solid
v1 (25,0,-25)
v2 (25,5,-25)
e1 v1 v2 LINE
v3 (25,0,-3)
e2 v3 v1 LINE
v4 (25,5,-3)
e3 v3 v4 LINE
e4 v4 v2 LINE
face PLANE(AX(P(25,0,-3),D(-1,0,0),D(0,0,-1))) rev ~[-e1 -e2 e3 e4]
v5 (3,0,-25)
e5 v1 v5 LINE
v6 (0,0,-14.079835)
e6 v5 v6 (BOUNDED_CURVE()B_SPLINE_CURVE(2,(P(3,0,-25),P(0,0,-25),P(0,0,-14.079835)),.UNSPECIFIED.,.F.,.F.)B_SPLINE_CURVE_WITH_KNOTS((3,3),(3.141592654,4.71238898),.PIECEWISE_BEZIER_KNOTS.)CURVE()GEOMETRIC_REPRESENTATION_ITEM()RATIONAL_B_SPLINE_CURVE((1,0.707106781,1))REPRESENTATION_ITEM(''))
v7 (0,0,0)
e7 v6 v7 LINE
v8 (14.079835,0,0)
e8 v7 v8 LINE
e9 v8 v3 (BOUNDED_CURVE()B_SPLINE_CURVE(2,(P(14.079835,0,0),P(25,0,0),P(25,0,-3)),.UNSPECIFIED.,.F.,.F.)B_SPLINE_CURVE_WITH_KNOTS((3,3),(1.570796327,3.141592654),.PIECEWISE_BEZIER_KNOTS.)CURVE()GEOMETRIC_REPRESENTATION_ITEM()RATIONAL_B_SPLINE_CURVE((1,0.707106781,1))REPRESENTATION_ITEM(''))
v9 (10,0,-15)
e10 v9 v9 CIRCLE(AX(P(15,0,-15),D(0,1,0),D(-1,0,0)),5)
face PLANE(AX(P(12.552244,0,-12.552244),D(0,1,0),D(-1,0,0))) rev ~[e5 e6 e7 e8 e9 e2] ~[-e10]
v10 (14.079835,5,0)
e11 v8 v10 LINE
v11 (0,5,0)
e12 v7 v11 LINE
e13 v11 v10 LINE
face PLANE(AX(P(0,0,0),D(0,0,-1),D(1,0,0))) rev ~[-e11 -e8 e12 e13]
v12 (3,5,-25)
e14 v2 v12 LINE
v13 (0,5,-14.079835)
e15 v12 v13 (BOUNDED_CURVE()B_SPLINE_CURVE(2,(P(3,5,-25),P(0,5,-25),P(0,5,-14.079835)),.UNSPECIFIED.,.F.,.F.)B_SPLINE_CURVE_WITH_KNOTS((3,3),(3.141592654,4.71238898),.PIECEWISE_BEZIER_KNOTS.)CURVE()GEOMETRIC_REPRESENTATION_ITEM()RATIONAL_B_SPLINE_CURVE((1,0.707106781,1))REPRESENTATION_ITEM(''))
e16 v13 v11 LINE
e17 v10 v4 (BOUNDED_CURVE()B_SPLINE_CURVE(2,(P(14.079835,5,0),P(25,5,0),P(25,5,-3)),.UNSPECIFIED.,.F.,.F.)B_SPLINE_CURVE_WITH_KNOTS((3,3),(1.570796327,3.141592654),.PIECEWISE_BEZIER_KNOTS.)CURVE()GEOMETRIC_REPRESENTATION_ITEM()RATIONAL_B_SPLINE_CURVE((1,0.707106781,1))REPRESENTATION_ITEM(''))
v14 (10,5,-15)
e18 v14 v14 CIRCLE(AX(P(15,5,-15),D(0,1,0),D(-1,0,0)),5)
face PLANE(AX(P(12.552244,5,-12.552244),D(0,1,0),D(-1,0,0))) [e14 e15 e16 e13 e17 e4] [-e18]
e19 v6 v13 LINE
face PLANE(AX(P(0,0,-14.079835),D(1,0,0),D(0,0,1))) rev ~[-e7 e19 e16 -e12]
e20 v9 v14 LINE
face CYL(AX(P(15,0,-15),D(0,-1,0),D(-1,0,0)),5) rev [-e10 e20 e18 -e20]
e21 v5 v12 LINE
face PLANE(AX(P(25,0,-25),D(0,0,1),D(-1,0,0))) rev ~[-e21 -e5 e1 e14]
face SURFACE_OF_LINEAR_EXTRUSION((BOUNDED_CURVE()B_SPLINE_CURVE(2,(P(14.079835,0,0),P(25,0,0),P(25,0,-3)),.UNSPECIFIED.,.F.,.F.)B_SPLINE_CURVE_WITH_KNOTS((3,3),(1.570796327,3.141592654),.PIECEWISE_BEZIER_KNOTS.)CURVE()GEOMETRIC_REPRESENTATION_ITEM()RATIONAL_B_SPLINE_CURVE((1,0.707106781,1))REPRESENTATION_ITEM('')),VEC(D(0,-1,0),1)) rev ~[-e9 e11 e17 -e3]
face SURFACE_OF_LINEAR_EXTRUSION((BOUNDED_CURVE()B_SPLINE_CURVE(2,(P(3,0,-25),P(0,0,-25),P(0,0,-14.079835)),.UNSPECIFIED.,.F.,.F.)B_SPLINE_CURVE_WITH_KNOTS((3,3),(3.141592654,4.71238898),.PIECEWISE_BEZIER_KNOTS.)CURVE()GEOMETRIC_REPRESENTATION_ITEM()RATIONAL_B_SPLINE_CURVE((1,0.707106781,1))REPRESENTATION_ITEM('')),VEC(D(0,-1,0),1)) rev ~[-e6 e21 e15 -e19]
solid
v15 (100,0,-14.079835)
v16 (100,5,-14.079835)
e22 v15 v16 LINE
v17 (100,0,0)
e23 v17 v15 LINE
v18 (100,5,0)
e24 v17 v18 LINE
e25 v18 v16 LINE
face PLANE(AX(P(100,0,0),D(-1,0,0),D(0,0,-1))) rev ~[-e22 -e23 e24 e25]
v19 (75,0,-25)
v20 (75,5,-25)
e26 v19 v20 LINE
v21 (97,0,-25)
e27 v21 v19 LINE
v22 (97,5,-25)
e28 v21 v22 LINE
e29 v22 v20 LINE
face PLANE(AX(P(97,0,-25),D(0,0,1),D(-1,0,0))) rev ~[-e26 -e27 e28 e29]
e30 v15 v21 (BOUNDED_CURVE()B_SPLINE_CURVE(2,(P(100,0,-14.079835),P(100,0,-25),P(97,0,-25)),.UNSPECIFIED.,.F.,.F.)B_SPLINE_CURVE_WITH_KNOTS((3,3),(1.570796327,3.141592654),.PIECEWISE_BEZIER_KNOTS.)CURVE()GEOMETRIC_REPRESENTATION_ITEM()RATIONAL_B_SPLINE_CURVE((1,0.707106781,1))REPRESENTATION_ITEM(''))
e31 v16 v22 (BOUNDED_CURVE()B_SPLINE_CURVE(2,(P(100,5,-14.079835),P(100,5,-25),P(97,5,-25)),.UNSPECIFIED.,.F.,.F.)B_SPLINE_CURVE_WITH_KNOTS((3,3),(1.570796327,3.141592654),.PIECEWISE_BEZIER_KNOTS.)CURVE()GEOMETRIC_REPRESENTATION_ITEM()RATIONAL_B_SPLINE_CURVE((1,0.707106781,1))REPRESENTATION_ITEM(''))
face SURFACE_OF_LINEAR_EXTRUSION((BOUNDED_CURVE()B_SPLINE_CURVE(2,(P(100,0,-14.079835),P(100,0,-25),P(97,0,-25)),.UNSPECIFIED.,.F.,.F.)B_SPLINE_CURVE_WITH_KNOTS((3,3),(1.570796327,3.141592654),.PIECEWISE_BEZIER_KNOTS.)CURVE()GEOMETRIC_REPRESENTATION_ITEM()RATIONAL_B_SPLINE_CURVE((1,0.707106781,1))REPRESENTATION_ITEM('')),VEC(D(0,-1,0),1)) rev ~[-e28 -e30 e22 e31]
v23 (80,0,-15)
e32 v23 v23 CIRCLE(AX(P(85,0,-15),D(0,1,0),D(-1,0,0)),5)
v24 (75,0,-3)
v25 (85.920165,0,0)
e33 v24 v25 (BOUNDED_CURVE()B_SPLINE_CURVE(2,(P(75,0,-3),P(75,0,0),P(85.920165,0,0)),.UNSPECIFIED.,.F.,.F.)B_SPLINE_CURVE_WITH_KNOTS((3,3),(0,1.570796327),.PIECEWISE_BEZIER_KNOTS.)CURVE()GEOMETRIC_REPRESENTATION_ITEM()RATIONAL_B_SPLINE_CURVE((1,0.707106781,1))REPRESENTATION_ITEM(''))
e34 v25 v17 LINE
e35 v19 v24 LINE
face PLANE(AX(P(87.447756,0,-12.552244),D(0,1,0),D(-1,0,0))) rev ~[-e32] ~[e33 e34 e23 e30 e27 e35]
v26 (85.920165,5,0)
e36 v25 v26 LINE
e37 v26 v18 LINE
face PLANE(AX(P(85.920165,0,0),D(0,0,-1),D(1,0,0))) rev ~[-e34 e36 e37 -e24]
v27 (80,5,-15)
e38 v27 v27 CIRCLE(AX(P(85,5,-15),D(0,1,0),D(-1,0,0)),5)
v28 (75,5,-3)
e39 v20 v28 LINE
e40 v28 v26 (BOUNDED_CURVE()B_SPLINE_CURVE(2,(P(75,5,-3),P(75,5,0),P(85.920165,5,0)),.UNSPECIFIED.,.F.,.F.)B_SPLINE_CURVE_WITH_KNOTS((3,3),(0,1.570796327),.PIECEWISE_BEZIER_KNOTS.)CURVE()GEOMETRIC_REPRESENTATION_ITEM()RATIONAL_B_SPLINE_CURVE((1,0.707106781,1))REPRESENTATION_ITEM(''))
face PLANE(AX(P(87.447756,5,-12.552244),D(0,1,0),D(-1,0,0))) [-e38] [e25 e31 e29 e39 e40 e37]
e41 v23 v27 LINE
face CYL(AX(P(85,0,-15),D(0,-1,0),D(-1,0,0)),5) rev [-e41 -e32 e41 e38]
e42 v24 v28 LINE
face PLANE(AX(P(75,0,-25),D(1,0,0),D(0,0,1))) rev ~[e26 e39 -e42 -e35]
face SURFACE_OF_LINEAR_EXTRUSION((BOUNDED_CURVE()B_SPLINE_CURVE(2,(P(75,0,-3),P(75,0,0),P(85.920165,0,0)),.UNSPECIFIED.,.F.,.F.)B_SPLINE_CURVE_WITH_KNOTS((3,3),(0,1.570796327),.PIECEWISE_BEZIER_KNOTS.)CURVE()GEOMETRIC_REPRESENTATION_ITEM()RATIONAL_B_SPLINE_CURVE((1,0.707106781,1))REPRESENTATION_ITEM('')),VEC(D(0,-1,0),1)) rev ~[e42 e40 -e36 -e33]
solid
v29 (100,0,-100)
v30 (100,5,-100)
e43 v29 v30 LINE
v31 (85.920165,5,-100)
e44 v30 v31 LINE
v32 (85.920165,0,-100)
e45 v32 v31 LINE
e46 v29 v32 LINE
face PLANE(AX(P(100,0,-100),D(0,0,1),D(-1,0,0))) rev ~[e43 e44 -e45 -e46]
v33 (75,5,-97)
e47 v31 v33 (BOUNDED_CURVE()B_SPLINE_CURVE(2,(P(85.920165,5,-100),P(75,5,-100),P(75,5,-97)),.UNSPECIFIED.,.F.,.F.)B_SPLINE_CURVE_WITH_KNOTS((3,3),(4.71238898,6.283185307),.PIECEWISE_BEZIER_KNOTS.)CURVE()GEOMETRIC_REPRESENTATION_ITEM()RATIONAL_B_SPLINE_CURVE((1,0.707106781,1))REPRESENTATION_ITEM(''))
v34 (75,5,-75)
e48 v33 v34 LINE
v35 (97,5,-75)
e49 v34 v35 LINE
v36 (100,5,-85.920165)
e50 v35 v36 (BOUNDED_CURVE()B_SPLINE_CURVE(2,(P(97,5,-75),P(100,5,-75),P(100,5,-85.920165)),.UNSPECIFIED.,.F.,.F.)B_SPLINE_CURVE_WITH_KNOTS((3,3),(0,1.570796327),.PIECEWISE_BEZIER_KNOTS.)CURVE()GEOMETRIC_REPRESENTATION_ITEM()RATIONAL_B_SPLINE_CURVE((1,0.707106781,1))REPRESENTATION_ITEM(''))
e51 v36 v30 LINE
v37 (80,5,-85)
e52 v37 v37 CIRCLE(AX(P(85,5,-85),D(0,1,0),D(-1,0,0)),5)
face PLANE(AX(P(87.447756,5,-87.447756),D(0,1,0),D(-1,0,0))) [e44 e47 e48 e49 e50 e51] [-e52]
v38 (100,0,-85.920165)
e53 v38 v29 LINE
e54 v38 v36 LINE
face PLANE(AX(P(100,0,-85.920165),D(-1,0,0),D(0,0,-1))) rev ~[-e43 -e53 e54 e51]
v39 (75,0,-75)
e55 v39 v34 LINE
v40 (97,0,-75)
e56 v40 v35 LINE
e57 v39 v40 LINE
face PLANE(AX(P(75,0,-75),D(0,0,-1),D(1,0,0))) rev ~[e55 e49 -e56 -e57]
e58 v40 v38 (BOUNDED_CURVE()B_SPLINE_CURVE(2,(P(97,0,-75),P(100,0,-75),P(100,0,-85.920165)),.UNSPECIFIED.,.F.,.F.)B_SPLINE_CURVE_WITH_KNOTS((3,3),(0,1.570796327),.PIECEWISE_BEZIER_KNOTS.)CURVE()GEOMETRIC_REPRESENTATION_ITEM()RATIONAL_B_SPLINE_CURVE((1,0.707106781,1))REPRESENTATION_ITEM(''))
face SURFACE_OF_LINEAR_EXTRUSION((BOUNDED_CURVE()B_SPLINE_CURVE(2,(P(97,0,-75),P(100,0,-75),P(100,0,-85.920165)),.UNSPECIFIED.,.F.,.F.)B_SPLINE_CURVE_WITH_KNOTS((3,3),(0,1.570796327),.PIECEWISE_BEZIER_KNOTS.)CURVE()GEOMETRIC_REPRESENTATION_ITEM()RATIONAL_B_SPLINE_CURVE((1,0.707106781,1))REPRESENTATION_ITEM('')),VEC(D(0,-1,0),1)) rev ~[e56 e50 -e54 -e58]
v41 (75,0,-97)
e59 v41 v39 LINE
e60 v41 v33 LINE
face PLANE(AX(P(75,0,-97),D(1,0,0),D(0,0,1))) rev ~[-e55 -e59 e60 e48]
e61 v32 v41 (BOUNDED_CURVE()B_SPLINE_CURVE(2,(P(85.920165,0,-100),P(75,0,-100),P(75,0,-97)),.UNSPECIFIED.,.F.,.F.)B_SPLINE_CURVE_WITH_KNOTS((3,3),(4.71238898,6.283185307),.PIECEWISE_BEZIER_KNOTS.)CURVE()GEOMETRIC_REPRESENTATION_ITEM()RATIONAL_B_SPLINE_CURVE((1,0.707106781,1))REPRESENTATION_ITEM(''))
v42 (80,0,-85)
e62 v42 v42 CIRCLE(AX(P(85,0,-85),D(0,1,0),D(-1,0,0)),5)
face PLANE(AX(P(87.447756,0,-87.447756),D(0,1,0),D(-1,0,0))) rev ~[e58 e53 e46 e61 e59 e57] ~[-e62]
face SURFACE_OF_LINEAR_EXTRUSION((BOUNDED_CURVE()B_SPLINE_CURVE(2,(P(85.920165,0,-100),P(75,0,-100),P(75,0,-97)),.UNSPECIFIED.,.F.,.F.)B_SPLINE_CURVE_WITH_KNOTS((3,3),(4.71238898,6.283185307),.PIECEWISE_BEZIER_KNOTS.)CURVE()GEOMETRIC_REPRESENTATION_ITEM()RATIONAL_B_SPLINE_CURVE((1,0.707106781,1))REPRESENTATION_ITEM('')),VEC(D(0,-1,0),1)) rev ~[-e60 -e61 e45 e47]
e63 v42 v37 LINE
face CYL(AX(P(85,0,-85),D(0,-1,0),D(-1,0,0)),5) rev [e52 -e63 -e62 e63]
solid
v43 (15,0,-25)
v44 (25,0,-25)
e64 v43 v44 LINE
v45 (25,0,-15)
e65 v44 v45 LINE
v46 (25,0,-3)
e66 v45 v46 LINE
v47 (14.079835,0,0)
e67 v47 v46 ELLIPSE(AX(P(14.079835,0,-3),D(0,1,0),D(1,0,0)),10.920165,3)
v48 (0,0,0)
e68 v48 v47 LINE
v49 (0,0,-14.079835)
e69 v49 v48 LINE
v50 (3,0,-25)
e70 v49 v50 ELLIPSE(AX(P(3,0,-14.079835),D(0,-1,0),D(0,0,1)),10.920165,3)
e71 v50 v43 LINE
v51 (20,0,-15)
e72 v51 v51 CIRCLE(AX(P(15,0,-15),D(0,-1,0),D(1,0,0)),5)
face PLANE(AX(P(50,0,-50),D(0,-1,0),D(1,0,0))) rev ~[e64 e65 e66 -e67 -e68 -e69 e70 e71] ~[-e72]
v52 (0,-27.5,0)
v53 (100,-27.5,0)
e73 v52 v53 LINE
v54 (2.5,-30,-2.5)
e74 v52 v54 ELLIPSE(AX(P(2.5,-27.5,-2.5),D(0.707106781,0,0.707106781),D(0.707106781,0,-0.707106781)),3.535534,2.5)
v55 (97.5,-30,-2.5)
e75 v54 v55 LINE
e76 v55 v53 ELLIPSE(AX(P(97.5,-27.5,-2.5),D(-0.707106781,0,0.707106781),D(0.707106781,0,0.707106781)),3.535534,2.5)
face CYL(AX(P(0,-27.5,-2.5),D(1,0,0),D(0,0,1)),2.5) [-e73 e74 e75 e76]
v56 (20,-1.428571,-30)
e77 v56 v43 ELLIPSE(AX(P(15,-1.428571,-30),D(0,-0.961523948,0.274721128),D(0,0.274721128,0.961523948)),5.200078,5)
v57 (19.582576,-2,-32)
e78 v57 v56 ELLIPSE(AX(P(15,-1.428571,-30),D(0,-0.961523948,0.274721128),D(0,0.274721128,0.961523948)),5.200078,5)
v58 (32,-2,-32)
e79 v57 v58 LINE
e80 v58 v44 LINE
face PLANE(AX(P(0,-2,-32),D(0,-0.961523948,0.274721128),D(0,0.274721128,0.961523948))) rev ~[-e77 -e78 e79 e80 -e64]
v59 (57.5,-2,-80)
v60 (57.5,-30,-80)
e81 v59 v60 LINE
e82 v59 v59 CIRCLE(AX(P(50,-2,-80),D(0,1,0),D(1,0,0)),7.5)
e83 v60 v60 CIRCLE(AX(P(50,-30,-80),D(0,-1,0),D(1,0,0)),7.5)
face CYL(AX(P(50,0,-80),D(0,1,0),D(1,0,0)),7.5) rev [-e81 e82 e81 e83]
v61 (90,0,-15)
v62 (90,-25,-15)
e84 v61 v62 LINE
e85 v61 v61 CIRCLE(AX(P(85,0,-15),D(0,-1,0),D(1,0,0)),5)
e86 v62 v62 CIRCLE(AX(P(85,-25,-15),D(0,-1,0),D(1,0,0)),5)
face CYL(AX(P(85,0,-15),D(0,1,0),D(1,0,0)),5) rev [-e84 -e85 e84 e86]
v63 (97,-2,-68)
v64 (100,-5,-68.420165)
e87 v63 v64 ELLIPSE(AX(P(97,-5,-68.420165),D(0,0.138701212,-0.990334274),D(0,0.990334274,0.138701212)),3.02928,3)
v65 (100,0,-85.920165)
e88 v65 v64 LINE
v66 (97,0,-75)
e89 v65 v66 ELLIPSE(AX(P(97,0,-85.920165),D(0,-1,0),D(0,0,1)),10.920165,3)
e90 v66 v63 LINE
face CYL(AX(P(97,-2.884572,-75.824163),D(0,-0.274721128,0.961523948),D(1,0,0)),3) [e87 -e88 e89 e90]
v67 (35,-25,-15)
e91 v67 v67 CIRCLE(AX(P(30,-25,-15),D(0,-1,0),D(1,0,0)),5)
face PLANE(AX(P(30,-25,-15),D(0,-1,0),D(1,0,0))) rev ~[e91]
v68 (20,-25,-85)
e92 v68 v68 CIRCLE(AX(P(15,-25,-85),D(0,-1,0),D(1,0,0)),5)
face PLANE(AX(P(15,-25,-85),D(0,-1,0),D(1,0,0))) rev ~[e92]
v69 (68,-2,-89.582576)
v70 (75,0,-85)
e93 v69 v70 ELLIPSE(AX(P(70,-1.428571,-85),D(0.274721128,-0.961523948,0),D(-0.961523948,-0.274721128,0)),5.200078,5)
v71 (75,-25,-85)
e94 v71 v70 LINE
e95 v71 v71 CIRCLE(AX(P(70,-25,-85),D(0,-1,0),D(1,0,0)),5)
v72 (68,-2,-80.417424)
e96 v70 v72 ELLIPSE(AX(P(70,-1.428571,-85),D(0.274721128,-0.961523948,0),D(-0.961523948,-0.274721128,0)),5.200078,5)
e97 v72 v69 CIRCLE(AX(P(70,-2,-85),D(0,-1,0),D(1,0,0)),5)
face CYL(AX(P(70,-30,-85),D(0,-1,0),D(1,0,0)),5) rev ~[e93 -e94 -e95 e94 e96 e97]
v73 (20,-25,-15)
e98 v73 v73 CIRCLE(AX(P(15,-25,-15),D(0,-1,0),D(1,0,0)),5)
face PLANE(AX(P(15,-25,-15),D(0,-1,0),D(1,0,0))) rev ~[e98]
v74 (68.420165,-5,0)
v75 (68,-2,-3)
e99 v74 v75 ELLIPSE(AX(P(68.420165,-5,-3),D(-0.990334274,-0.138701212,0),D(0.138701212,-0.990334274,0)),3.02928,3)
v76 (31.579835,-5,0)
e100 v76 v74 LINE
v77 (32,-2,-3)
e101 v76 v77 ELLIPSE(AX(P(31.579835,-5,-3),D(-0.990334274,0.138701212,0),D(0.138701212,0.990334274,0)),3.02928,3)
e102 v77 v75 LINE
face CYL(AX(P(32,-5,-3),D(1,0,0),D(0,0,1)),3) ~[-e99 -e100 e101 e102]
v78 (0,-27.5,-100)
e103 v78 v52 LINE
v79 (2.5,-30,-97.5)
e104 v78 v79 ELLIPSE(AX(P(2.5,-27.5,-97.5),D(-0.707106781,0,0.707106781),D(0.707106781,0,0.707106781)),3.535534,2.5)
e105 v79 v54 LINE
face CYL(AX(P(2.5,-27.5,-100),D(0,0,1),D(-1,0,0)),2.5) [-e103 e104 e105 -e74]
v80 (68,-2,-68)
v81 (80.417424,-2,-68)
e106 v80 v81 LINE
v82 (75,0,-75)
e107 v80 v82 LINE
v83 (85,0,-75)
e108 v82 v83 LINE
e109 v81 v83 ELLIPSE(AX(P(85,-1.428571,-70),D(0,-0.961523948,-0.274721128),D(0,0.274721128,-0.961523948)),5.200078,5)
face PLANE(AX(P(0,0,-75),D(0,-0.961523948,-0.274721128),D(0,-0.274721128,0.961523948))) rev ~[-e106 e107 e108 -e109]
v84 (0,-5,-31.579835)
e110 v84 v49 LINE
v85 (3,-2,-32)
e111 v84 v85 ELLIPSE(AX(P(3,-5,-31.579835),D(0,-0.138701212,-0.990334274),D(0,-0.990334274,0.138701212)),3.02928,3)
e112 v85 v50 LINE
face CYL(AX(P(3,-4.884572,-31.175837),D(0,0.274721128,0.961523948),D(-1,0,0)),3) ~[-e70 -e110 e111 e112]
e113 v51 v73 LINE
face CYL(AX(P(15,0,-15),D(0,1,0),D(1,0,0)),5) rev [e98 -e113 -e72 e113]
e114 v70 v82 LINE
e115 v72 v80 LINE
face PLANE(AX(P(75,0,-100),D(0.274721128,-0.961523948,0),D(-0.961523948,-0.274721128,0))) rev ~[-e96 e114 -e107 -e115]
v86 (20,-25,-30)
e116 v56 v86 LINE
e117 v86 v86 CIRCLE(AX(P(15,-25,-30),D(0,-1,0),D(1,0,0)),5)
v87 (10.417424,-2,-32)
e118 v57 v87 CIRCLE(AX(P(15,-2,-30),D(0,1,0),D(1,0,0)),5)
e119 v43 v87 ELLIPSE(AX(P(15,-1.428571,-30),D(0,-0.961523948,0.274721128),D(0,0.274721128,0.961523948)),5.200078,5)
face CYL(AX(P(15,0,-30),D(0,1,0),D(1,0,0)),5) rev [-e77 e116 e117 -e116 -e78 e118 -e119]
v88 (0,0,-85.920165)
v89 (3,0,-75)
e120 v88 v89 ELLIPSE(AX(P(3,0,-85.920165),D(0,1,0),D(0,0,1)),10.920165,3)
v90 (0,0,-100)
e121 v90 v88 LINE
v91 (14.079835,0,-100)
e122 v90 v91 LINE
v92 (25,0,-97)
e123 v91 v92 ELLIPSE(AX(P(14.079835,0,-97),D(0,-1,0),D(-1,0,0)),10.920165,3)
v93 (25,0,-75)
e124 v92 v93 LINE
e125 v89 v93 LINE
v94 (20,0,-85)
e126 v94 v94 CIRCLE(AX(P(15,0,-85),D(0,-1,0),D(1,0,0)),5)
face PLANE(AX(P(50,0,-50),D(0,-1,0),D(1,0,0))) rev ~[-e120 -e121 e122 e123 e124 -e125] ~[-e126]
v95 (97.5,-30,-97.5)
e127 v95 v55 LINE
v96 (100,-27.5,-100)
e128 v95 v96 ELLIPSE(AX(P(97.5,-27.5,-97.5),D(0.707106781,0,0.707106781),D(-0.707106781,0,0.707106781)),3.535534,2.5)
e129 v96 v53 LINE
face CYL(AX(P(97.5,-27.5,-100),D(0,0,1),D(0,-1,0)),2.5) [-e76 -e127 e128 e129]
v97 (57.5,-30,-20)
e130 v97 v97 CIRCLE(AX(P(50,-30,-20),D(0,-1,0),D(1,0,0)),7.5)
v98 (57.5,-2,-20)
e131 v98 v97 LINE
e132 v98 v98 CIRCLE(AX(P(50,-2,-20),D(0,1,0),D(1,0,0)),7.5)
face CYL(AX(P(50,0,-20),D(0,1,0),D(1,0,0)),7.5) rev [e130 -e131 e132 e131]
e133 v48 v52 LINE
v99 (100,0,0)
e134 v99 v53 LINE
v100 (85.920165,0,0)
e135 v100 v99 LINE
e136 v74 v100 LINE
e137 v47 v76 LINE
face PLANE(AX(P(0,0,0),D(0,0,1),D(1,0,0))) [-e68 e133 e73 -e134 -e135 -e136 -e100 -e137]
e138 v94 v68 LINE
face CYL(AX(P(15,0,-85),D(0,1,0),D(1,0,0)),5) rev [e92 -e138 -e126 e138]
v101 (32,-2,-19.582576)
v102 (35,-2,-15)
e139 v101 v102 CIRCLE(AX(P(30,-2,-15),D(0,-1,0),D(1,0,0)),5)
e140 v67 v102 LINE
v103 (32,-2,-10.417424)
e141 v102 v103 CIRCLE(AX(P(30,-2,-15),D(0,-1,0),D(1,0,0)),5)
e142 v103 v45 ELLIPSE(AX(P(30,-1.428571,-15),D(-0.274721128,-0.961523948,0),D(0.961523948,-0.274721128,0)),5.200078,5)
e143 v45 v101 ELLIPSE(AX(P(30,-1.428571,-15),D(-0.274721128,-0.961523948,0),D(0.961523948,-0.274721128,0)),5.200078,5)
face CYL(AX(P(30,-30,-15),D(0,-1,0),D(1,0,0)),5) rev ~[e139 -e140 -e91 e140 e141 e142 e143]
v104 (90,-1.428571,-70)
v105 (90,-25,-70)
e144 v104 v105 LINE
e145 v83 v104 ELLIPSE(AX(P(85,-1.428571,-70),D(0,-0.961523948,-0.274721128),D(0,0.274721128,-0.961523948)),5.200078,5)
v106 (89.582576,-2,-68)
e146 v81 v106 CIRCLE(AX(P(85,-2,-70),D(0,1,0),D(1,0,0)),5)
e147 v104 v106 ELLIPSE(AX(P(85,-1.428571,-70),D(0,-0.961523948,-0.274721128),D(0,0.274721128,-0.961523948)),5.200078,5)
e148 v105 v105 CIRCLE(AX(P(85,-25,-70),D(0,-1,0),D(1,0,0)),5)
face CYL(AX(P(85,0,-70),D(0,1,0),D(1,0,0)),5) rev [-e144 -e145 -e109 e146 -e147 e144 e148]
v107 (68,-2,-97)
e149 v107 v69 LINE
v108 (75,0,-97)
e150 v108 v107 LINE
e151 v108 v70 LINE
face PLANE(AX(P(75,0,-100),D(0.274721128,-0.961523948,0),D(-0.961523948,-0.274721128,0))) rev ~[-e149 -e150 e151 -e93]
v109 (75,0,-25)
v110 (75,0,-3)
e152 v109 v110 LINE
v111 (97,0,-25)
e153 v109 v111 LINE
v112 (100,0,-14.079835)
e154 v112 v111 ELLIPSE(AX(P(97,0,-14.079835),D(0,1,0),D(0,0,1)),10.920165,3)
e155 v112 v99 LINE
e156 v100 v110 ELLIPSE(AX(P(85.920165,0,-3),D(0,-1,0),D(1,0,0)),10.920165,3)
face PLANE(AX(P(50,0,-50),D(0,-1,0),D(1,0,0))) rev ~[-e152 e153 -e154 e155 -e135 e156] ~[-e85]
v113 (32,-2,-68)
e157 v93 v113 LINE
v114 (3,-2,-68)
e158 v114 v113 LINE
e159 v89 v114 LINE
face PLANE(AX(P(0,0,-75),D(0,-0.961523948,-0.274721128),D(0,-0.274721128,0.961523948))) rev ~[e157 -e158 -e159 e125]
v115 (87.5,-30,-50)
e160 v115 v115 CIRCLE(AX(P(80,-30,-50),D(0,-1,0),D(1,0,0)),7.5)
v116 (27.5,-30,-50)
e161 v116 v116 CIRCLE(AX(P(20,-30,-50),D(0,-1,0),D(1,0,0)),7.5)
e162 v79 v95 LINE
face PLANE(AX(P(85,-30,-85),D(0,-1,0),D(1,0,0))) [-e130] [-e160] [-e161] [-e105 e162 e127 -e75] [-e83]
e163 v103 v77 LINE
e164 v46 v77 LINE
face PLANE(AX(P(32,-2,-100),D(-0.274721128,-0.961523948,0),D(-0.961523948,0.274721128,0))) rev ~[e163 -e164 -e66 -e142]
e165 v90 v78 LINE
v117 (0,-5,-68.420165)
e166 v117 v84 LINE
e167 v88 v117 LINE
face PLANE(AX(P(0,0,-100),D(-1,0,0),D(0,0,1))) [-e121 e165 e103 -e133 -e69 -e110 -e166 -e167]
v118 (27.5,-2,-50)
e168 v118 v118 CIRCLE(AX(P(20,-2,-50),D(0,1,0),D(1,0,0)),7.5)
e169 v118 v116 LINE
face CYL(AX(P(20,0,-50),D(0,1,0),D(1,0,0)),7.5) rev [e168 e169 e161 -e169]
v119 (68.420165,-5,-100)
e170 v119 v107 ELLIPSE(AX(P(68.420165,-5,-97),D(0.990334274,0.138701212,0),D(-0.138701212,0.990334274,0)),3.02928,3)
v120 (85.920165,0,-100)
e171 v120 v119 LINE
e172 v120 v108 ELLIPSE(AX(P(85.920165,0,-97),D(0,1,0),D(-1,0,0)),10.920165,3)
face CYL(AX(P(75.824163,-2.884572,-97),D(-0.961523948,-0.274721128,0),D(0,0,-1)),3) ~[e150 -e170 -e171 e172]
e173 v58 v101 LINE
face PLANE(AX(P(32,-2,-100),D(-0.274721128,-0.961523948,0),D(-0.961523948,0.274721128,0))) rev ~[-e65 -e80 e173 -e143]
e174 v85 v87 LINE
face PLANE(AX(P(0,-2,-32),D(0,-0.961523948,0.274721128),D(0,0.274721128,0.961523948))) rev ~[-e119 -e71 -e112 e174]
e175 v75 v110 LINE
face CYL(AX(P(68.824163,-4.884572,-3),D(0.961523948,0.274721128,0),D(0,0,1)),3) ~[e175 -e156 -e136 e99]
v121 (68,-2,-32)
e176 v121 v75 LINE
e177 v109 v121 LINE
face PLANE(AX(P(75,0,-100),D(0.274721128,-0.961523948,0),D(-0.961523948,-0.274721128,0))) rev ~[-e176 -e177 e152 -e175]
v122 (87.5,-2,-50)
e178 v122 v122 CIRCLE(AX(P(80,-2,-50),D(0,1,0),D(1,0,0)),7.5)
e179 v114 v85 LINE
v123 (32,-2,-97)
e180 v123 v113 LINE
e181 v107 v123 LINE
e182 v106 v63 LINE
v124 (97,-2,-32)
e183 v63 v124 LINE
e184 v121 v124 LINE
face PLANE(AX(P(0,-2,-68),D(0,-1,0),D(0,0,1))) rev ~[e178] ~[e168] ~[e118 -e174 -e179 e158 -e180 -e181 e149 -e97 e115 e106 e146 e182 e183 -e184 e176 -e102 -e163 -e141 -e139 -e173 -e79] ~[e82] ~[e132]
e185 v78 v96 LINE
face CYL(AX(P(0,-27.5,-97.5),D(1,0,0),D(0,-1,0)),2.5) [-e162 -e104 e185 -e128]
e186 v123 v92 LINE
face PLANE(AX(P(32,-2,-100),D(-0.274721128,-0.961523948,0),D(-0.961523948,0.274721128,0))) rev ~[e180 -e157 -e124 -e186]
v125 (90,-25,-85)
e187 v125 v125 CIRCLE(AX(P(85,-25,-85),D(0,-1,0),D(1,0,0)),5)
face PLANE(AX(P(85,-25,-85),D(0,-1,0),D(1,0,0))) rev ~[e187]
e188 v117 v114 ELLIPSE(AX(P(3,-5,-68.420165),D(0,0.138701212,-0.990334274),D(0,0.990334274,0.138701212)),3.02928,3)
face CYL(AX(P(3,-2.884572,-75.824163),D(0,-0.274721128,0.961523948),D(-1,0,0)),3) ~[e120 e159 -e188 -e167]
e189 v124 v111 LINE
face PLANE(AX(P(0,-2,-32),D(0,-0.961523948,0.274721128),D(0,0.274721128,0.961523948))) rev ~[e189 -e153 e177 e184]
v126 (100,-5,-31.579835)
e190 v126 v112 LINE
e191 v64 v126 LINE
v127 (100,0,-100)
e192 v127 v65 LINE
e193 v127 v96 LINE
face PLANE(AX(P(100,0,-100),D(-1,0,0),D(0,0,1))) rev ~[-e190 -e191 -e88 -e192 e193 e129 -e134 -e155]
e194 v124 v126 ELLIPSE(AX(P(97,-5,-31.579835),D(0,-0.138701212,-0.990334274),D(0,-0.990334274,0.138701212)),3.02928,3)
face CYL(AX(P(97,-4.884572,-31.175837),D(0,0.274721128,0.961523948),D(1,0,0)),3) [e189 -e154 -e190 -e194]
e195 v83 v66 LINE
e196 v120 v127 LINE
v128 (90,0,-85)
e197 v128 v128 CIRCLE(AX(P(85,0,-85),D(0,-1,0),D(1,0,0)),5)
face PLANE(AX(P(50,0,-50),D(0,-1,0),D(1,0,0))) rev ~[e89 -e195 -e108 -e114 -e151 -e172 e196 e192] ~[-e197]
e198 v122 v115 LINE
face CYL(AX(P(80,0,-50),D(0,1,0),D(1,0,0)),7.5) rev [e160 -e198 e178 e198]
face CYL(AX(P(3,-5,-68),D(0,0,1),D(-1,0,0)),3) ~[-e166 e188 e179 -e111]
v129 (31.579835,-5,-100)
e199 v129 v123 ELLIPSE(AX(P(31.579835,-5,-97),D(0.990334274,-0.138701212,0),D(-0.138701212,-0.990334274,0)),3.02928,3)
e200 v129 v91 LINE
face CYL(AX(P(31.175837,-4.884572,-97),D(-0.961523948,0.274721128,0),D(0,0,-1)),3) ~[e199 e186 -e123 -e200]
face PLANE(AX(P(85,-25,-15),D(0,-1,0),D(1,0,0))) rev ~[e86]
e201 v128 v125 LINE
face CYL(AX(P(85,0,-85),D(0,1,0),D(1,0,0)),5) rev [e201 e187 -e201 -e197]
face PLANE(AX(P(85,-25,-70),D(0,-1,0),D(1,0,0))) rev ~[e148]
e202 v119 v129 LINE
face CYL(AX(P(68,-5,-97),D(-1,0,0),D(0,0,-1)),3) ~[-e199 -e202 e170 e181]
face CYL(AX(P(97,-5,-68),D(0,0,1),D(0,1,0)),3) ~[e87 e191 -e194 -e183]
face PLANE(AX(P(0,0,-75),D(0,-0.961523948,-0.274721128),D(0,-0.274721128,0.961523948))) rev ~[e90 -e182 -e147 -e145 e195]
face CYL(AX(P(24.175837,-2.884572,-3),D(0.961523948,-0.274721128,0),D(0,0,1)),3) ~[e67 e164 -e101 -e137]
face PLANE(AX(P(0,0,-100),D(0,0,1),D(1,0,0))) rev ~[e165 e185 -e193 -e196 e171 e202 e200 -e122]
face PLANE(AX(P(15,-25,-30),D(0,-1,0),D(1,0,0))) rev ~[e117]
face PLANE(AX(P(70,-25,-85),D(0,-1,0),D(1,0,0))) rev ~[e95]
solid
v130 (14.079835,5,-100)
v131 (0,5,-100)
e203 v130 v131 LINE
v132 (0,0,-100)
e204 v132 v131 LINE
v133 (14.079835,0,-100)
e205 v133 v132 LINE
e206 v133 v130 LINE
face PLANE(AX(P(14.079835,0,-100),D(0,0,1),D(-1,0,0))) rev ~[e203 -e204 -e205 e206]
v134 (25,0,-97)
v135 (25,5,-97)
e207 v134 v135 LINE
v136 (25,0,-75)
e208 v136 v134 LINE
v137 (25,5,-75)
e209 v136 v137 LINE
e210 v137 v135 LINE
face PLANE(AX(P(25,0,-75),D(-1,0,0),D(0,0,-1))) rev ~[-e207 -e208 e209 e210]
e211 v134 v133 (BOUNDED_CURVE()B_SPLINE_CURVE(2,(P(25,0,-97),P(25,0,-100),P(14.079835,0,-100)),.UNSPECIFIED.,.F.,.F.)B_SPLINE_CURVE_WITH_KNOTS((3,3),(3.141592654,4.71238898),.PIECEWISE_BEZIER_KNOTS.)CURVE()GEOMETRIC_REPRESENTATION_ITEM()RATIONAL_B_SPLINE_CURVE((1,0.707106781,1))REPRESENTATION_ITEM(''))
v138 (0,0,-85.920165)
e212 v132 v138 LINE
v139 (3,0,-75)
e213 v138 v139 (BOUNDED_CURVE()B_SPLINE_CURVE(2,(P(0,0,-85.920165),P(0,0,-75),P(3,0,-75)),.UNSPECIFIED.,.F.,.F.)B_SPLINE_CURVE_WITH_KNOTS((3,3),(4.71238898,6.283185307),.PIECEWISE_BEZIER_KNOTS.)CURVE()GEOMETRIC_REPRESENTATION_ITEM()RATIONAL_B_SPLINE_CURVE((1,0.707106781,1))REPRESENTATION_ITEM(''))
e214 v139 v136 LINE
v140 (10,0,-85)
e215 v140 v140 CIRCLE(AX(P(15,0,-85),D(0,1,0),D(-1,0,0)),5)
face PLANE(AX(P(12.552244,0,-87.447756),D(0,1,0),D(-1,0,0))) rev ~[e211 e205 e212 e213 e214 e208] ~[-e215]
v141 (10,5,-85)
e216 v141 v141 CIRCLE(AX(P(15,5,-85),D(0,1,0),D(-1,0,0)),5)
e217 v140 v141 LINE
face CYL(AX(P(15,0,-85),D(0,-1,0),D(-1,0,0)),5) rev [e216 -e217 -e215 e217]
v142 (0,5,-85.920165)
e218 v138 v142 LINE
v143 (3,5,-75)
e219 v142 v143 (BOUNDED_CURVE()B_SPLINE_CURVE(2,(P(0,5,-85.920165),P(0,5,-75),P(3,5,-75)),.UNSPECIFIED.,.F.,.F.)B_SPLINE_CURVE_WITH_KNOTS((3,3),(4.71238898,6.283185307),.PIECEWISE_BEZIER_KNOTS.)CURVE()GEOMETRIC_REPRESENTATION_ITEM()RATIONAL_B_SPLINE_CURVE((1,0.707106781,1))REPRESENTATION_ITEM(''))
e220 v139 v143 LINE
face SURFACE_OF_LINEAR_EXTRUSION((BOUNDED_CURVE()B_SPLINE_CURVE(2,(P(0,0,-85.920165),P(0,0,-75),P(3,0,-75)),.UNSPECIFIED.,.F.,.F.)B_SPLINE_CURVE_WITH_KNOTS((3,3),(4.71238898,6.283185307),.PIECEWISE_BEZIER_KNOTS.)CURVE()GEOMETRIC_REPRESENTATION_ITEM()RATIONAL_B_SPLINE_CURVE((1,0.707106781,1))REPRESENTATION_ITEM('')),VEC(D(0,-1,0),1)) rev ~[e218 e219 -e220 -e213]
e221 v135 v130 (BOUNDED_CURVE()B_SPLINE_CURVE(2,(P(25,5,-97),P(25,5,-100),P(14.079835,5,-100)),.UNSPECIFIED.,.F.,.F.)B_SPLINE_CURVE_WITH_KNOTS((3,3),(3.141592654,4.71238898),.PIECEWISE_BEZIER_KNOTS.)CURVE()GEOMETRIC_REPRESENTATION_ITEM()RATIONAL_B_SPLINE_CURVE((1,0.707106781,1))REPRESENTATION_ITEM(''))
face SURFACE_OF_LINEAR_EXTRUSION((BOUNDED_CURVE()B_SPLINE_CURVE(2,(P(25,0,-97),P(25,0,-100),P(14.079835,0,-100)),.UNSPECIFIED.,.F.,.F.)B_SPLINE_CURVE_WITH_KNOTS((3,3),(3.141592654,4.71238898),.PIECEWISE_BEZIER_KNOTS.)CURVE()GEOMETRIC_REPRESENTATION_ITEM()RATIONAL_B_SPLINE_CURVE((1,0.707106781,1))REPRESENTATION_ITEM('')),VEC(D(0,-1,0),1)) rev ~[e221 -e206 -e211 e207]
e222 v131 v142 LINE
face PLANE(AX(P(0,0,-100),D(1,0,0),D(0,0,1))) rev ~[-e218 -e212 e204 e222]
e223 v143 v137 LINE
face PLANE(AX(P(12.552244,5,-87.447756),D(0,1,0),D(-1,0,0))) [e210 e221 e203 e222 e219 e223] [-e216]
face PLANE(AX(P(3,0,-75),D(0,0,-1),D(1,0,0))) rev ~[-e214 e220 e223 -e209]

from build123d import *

# Parameters (mm, degrees)
F0_W      = 100
F0_H      = 100
F0_R      = 5
F0_R_2    = 7.5
F1_DEPTH  = 30
F3_DEPTH  = 100.001
F5_DEPTH  = 100.001
F6_R      = 2.5
F7_R      = 3
F8_R      = 5
F9_DEPTH  = 5
F10_R     = 5
F11_DEPTH = 35.0010001
F12_DEPTH = 5


with BuildPart() as f1:
    # F0 (on Front) → F1 (new body)
    with BuildSketch(Plane.XZ):
        with Locations((50, -50)):
            Rectangle(F0_W, F0_H)
        with Locations((15, -85)):
            Circle(F0_R, mode=Mode.SUBTRACT)
        with Locations((50, -80)):
            Circle(F0_R_2, mode=Mode.SUBTRACT)
        with Locations((85, -85)):
            Circle(F0_R, mode=Mode.SUBTRACT)
        with Locations((85, -70)):
            Circle(F0_R, mode=Mode.SUBTRACT)
        with Locations((20, -50)):
            Circle(F0_R_2, mode=Mode.SUBTRACT)
        with Locations((15, -30)):
            Circle(F0_R, mode=Mode.SUBTRACT)
        with Locations((15, -15)):
            Circle(F0_R, mode=Mode.SUBTRACT)
        with Locations((80, -50)):
            Circle(F0_R_2, mode=Mode.SUBTRACT)
        with Locations((50, -20)):
            Circle(F0_R_2, mode=Mode.SUBTRACT)
        with Locations((85, -15)):
            Circle(F0_R, mode=Mode.SUBTRACT)
    extrude(amount=F1_DEPTH)

    # F2 (on face) → F3 (cut, through all)
    with BuildSketch(Plane(origin=(0, 0, -100), x_dir=(1, 0, 0), z_dir=(0, 0, -1))):
        Polygon((32, 2), (25, 0), (75, 0), (68, 2), align=None)
    extrude(amount=-F3_DEPTH, mode=Mode.SUBTRACT)

    # F4 (on face) → F5 (cut, through all)
    with BuildSketch(Plane(origin=(0, 0, 0), x_dir=(0, -1, 0), z_dir=(-1, 0, 0))):
        Polygon((2, -32), (0, -25), (0, -75), (2, -68), align=None)
    extrude(amount=-F5_DEPTH, mode=Mode.SUBTRACT)

    # F6
    f6_edges = [f1.edges().sort_by_distance(p)[0] for p in [
        (100, -30, -50),
        (50, -30, 0),
        (0, -30, -50),
        (50, -30, -100),
    ]]
    fillet(f6_edges, radius=F6_R)

    # F7
    f7_edges = [f1.edges().sort_by_distance(p)[0] for p in [
        (100, -2, -50),
        (100, -1, -28.5),
        (100, -1, -71.5),
        (0, -2, -50),
        (0, -1, -71.5),
        (0, -1, -28.5),
        (50, -2, -100),
        (71.5, -1, -100),
        (28.5, -1, -100),
        (50, -2, 0),
        (71.5, -1, 0),
        (28.5, -1, 0),
    ]]
    fillet(f7_edges, radius=F7_R)

    # F10 (on face) → F11 (cut, through all)
    with BuildSketch(Plane.XZ.offset(30)):
        with Locations((30, -15)):
            Circle(F10_R)
        with Locations((70, -85)):
            Circle(F10_R)
    extrude(amount=-F11_DEPTH, mode=Mode.SUBTRACT)

    # F10 (on face) → F12 (join)
    with BuildSketch(Plane.XZ.offset(30)):
        with Locations((85, -85)):
            Circle(F10_R)
        with Locations((15, -85)):
            Circle(F10_R)
        with Locations((15, -15)):
            Circle(F10_R)
        with Locations((85, -15)):
            Circle(F10_R)
        with Locations((30, -15)):
            Circle(F10_R)
        with Locations((70, -85)):
            Circle(F10_R)
        with Locations((85, -70)):
            Circle(F10_R)
        with Locations((15, -30)):
            Circle(F10_R)
    extrude(amount=-F12_DEPTH)


with BuildPart() as f9:
    # F8 (on face) → F9 (new body)
    with BuildSketch(Plane(origin=(0, 0, 0), x_dir=(-1, 0, 0), z_dir=(0, 1, 0))):
        with BuildLine():
            Line((-85.9201648339, 0), (-100, 0))
            Line((-100, 0), (-100, -14.0798351661))
            add(Edge.make_bspline(
                [(-100, -14.0798351661), (-100, -25), (-97, -25)],
                knots=[1.5707963268, 1.5707963268, 1.5707963268, 3.1415926536, 3.1415926536, 3.1415926536], degree=2, weights=[1, 0.7071067812, 1]))
            Line((-97, -25), (-75, -25))
            Line((-75, -25), (-75, -3))
            add(Edge.make_bspline(
                [(-75, -3), (-75, 0), (-85.9201648339, 0)],
                knots=[0, 0, 0, 1.5707963268, 1.5707963268, 1.5707963268], degree=2, weights=[1, 0.7071067812, 1]))
        make_face()
        with Locations((-85, -15)):
            Circle(F8_R, mode=Mode.SUBTRACT)
    extrude(amount=F9_DEPTH)


with BuildPart() as f9b:
    # F8 (on face) → F9, piece 2 (new body)
    with BuildSketch(Plane(origin=(0, 0, 0), x_dir=(-1, 0, 0), z_dir=(0, 1, 0))):
        with BuildLine():
            Line((-25, -25), (-15, -25))
            Line((-15, -25), (-3, -25))
            add(Edge.make_bspline(
                [(-3, -25), (0, -25), (0, -14.0798351661)],
                knots=[3.1415926536, 3.1415926536, 3.1415926536, 4.7123889804, 4.7123889804, 4.7123889804], degree=2, weights=[1, 0.7071067812, 1]))
            Line((0, -14.0798351661), (0, 0))
            Line((0, 0), (-14.0798351661, 0))
            add(Edge.make_bspline(
                [(-14.0798351661, 0), (-25, 0), (-25, -3)],
                knots=[1.5707963268, 1.5707963268, 1.5707963268, 3.1415926536, 3.1415926536, 3.1415926536], degree=2, weights=[1, 0.7071067812, 1]))
            Line((-25, -3), (-25, -25))
        make_face()
        with Locations((-15, -15)):
            Circle(F8_R, mode=Mode.SUBTRACT)
    extrude(amount=F9_DEPTH)


with BuildPart() as f9c:
    # F8 (on face) → F9, piece 3 (new body)
    with BuildSketch(Plane(origin=(0, 0, 0), x_dir=(-1, 0, 0), z_dir=(0, 1, 0))):
        with BuildLine():
            Line((-14.0798351661, -100), (0, -100))
            Line((0, -100), (0, -85.9201648339))
            add(Edge.make_bspline(
                [(0, -85.9201648339), (0, -75), (-3, -75)],
                knots=[4.7123889804, 4.7123889804, 4.7123889804, 6.2831853072, 6.2831853072, 6.2831853072], degree=2, weights=[1, 0.7071067812, 1]))
            Line((-3, -75), (-25, -75))
            Line((-25, -75), (-25, -97))
            add(Edge.make_bspline(
                [(-25, -97), (-25, -100), (-14.0798351661, -100)],
                knots=[3.1415926536, 3.1415926536, 3.1415926536, 4.7123889804, 4.7123889804, 4.7123889804], degree=2, weights=[1, 0.7071067812, 1]))
        make_face()
        with Locations((-15, -85)):
            Circle(F8_R, mode=Mode.SUBTRACT)
    extrude(amount=F9_DEPTH)


with BuildPart() as f9d:
    # F8 (on face) → F9, piece 4 (new body)
    with BuildSketch(Plane(origin=(0, 0, 0), x_dir=(-1, 0, 0), z_dir=(0, 1, 0))):
        with BuildLine():
            Line((-75, -75), (-85, -75))
            Line((-85, -75), (-97, -75))
            add(Edge.make_bspline(
                [(-97, -75), (-100, -75), (-100, -85.9201648339)],
                knots=[0, 0, 0, 1.5707963268, 1.5707963268, 1.5707963268], degree=2, weights=[1, 0.7071067812, 1]))
            Line((-100, -85.9201648339), (-100, -100))
            Line((-100, -100), (-85.9201648339, -100))
            add(Edge.make_bspline(
                [(-85.9201648339, -100), (-75, -100), (-75, -97)],
                knots=[4.7123889804, 4.7123889804, 4.7123889804, 6.2831853072, 6.2831853072, 6.2831853072], degree=2, weights=[1, 0.7071067812, 1]))
            Line((-75, -97), (-75, -75))
        make_face()
        with Locations((-85, -85)):
            Circle(F8_R, mode=Mode.SUBTRACT)
    extrude(amount=F9_DEPTH)


solid = Compound([f1.part, f9.part, f9b.part, f9c.part, f9d.part])
